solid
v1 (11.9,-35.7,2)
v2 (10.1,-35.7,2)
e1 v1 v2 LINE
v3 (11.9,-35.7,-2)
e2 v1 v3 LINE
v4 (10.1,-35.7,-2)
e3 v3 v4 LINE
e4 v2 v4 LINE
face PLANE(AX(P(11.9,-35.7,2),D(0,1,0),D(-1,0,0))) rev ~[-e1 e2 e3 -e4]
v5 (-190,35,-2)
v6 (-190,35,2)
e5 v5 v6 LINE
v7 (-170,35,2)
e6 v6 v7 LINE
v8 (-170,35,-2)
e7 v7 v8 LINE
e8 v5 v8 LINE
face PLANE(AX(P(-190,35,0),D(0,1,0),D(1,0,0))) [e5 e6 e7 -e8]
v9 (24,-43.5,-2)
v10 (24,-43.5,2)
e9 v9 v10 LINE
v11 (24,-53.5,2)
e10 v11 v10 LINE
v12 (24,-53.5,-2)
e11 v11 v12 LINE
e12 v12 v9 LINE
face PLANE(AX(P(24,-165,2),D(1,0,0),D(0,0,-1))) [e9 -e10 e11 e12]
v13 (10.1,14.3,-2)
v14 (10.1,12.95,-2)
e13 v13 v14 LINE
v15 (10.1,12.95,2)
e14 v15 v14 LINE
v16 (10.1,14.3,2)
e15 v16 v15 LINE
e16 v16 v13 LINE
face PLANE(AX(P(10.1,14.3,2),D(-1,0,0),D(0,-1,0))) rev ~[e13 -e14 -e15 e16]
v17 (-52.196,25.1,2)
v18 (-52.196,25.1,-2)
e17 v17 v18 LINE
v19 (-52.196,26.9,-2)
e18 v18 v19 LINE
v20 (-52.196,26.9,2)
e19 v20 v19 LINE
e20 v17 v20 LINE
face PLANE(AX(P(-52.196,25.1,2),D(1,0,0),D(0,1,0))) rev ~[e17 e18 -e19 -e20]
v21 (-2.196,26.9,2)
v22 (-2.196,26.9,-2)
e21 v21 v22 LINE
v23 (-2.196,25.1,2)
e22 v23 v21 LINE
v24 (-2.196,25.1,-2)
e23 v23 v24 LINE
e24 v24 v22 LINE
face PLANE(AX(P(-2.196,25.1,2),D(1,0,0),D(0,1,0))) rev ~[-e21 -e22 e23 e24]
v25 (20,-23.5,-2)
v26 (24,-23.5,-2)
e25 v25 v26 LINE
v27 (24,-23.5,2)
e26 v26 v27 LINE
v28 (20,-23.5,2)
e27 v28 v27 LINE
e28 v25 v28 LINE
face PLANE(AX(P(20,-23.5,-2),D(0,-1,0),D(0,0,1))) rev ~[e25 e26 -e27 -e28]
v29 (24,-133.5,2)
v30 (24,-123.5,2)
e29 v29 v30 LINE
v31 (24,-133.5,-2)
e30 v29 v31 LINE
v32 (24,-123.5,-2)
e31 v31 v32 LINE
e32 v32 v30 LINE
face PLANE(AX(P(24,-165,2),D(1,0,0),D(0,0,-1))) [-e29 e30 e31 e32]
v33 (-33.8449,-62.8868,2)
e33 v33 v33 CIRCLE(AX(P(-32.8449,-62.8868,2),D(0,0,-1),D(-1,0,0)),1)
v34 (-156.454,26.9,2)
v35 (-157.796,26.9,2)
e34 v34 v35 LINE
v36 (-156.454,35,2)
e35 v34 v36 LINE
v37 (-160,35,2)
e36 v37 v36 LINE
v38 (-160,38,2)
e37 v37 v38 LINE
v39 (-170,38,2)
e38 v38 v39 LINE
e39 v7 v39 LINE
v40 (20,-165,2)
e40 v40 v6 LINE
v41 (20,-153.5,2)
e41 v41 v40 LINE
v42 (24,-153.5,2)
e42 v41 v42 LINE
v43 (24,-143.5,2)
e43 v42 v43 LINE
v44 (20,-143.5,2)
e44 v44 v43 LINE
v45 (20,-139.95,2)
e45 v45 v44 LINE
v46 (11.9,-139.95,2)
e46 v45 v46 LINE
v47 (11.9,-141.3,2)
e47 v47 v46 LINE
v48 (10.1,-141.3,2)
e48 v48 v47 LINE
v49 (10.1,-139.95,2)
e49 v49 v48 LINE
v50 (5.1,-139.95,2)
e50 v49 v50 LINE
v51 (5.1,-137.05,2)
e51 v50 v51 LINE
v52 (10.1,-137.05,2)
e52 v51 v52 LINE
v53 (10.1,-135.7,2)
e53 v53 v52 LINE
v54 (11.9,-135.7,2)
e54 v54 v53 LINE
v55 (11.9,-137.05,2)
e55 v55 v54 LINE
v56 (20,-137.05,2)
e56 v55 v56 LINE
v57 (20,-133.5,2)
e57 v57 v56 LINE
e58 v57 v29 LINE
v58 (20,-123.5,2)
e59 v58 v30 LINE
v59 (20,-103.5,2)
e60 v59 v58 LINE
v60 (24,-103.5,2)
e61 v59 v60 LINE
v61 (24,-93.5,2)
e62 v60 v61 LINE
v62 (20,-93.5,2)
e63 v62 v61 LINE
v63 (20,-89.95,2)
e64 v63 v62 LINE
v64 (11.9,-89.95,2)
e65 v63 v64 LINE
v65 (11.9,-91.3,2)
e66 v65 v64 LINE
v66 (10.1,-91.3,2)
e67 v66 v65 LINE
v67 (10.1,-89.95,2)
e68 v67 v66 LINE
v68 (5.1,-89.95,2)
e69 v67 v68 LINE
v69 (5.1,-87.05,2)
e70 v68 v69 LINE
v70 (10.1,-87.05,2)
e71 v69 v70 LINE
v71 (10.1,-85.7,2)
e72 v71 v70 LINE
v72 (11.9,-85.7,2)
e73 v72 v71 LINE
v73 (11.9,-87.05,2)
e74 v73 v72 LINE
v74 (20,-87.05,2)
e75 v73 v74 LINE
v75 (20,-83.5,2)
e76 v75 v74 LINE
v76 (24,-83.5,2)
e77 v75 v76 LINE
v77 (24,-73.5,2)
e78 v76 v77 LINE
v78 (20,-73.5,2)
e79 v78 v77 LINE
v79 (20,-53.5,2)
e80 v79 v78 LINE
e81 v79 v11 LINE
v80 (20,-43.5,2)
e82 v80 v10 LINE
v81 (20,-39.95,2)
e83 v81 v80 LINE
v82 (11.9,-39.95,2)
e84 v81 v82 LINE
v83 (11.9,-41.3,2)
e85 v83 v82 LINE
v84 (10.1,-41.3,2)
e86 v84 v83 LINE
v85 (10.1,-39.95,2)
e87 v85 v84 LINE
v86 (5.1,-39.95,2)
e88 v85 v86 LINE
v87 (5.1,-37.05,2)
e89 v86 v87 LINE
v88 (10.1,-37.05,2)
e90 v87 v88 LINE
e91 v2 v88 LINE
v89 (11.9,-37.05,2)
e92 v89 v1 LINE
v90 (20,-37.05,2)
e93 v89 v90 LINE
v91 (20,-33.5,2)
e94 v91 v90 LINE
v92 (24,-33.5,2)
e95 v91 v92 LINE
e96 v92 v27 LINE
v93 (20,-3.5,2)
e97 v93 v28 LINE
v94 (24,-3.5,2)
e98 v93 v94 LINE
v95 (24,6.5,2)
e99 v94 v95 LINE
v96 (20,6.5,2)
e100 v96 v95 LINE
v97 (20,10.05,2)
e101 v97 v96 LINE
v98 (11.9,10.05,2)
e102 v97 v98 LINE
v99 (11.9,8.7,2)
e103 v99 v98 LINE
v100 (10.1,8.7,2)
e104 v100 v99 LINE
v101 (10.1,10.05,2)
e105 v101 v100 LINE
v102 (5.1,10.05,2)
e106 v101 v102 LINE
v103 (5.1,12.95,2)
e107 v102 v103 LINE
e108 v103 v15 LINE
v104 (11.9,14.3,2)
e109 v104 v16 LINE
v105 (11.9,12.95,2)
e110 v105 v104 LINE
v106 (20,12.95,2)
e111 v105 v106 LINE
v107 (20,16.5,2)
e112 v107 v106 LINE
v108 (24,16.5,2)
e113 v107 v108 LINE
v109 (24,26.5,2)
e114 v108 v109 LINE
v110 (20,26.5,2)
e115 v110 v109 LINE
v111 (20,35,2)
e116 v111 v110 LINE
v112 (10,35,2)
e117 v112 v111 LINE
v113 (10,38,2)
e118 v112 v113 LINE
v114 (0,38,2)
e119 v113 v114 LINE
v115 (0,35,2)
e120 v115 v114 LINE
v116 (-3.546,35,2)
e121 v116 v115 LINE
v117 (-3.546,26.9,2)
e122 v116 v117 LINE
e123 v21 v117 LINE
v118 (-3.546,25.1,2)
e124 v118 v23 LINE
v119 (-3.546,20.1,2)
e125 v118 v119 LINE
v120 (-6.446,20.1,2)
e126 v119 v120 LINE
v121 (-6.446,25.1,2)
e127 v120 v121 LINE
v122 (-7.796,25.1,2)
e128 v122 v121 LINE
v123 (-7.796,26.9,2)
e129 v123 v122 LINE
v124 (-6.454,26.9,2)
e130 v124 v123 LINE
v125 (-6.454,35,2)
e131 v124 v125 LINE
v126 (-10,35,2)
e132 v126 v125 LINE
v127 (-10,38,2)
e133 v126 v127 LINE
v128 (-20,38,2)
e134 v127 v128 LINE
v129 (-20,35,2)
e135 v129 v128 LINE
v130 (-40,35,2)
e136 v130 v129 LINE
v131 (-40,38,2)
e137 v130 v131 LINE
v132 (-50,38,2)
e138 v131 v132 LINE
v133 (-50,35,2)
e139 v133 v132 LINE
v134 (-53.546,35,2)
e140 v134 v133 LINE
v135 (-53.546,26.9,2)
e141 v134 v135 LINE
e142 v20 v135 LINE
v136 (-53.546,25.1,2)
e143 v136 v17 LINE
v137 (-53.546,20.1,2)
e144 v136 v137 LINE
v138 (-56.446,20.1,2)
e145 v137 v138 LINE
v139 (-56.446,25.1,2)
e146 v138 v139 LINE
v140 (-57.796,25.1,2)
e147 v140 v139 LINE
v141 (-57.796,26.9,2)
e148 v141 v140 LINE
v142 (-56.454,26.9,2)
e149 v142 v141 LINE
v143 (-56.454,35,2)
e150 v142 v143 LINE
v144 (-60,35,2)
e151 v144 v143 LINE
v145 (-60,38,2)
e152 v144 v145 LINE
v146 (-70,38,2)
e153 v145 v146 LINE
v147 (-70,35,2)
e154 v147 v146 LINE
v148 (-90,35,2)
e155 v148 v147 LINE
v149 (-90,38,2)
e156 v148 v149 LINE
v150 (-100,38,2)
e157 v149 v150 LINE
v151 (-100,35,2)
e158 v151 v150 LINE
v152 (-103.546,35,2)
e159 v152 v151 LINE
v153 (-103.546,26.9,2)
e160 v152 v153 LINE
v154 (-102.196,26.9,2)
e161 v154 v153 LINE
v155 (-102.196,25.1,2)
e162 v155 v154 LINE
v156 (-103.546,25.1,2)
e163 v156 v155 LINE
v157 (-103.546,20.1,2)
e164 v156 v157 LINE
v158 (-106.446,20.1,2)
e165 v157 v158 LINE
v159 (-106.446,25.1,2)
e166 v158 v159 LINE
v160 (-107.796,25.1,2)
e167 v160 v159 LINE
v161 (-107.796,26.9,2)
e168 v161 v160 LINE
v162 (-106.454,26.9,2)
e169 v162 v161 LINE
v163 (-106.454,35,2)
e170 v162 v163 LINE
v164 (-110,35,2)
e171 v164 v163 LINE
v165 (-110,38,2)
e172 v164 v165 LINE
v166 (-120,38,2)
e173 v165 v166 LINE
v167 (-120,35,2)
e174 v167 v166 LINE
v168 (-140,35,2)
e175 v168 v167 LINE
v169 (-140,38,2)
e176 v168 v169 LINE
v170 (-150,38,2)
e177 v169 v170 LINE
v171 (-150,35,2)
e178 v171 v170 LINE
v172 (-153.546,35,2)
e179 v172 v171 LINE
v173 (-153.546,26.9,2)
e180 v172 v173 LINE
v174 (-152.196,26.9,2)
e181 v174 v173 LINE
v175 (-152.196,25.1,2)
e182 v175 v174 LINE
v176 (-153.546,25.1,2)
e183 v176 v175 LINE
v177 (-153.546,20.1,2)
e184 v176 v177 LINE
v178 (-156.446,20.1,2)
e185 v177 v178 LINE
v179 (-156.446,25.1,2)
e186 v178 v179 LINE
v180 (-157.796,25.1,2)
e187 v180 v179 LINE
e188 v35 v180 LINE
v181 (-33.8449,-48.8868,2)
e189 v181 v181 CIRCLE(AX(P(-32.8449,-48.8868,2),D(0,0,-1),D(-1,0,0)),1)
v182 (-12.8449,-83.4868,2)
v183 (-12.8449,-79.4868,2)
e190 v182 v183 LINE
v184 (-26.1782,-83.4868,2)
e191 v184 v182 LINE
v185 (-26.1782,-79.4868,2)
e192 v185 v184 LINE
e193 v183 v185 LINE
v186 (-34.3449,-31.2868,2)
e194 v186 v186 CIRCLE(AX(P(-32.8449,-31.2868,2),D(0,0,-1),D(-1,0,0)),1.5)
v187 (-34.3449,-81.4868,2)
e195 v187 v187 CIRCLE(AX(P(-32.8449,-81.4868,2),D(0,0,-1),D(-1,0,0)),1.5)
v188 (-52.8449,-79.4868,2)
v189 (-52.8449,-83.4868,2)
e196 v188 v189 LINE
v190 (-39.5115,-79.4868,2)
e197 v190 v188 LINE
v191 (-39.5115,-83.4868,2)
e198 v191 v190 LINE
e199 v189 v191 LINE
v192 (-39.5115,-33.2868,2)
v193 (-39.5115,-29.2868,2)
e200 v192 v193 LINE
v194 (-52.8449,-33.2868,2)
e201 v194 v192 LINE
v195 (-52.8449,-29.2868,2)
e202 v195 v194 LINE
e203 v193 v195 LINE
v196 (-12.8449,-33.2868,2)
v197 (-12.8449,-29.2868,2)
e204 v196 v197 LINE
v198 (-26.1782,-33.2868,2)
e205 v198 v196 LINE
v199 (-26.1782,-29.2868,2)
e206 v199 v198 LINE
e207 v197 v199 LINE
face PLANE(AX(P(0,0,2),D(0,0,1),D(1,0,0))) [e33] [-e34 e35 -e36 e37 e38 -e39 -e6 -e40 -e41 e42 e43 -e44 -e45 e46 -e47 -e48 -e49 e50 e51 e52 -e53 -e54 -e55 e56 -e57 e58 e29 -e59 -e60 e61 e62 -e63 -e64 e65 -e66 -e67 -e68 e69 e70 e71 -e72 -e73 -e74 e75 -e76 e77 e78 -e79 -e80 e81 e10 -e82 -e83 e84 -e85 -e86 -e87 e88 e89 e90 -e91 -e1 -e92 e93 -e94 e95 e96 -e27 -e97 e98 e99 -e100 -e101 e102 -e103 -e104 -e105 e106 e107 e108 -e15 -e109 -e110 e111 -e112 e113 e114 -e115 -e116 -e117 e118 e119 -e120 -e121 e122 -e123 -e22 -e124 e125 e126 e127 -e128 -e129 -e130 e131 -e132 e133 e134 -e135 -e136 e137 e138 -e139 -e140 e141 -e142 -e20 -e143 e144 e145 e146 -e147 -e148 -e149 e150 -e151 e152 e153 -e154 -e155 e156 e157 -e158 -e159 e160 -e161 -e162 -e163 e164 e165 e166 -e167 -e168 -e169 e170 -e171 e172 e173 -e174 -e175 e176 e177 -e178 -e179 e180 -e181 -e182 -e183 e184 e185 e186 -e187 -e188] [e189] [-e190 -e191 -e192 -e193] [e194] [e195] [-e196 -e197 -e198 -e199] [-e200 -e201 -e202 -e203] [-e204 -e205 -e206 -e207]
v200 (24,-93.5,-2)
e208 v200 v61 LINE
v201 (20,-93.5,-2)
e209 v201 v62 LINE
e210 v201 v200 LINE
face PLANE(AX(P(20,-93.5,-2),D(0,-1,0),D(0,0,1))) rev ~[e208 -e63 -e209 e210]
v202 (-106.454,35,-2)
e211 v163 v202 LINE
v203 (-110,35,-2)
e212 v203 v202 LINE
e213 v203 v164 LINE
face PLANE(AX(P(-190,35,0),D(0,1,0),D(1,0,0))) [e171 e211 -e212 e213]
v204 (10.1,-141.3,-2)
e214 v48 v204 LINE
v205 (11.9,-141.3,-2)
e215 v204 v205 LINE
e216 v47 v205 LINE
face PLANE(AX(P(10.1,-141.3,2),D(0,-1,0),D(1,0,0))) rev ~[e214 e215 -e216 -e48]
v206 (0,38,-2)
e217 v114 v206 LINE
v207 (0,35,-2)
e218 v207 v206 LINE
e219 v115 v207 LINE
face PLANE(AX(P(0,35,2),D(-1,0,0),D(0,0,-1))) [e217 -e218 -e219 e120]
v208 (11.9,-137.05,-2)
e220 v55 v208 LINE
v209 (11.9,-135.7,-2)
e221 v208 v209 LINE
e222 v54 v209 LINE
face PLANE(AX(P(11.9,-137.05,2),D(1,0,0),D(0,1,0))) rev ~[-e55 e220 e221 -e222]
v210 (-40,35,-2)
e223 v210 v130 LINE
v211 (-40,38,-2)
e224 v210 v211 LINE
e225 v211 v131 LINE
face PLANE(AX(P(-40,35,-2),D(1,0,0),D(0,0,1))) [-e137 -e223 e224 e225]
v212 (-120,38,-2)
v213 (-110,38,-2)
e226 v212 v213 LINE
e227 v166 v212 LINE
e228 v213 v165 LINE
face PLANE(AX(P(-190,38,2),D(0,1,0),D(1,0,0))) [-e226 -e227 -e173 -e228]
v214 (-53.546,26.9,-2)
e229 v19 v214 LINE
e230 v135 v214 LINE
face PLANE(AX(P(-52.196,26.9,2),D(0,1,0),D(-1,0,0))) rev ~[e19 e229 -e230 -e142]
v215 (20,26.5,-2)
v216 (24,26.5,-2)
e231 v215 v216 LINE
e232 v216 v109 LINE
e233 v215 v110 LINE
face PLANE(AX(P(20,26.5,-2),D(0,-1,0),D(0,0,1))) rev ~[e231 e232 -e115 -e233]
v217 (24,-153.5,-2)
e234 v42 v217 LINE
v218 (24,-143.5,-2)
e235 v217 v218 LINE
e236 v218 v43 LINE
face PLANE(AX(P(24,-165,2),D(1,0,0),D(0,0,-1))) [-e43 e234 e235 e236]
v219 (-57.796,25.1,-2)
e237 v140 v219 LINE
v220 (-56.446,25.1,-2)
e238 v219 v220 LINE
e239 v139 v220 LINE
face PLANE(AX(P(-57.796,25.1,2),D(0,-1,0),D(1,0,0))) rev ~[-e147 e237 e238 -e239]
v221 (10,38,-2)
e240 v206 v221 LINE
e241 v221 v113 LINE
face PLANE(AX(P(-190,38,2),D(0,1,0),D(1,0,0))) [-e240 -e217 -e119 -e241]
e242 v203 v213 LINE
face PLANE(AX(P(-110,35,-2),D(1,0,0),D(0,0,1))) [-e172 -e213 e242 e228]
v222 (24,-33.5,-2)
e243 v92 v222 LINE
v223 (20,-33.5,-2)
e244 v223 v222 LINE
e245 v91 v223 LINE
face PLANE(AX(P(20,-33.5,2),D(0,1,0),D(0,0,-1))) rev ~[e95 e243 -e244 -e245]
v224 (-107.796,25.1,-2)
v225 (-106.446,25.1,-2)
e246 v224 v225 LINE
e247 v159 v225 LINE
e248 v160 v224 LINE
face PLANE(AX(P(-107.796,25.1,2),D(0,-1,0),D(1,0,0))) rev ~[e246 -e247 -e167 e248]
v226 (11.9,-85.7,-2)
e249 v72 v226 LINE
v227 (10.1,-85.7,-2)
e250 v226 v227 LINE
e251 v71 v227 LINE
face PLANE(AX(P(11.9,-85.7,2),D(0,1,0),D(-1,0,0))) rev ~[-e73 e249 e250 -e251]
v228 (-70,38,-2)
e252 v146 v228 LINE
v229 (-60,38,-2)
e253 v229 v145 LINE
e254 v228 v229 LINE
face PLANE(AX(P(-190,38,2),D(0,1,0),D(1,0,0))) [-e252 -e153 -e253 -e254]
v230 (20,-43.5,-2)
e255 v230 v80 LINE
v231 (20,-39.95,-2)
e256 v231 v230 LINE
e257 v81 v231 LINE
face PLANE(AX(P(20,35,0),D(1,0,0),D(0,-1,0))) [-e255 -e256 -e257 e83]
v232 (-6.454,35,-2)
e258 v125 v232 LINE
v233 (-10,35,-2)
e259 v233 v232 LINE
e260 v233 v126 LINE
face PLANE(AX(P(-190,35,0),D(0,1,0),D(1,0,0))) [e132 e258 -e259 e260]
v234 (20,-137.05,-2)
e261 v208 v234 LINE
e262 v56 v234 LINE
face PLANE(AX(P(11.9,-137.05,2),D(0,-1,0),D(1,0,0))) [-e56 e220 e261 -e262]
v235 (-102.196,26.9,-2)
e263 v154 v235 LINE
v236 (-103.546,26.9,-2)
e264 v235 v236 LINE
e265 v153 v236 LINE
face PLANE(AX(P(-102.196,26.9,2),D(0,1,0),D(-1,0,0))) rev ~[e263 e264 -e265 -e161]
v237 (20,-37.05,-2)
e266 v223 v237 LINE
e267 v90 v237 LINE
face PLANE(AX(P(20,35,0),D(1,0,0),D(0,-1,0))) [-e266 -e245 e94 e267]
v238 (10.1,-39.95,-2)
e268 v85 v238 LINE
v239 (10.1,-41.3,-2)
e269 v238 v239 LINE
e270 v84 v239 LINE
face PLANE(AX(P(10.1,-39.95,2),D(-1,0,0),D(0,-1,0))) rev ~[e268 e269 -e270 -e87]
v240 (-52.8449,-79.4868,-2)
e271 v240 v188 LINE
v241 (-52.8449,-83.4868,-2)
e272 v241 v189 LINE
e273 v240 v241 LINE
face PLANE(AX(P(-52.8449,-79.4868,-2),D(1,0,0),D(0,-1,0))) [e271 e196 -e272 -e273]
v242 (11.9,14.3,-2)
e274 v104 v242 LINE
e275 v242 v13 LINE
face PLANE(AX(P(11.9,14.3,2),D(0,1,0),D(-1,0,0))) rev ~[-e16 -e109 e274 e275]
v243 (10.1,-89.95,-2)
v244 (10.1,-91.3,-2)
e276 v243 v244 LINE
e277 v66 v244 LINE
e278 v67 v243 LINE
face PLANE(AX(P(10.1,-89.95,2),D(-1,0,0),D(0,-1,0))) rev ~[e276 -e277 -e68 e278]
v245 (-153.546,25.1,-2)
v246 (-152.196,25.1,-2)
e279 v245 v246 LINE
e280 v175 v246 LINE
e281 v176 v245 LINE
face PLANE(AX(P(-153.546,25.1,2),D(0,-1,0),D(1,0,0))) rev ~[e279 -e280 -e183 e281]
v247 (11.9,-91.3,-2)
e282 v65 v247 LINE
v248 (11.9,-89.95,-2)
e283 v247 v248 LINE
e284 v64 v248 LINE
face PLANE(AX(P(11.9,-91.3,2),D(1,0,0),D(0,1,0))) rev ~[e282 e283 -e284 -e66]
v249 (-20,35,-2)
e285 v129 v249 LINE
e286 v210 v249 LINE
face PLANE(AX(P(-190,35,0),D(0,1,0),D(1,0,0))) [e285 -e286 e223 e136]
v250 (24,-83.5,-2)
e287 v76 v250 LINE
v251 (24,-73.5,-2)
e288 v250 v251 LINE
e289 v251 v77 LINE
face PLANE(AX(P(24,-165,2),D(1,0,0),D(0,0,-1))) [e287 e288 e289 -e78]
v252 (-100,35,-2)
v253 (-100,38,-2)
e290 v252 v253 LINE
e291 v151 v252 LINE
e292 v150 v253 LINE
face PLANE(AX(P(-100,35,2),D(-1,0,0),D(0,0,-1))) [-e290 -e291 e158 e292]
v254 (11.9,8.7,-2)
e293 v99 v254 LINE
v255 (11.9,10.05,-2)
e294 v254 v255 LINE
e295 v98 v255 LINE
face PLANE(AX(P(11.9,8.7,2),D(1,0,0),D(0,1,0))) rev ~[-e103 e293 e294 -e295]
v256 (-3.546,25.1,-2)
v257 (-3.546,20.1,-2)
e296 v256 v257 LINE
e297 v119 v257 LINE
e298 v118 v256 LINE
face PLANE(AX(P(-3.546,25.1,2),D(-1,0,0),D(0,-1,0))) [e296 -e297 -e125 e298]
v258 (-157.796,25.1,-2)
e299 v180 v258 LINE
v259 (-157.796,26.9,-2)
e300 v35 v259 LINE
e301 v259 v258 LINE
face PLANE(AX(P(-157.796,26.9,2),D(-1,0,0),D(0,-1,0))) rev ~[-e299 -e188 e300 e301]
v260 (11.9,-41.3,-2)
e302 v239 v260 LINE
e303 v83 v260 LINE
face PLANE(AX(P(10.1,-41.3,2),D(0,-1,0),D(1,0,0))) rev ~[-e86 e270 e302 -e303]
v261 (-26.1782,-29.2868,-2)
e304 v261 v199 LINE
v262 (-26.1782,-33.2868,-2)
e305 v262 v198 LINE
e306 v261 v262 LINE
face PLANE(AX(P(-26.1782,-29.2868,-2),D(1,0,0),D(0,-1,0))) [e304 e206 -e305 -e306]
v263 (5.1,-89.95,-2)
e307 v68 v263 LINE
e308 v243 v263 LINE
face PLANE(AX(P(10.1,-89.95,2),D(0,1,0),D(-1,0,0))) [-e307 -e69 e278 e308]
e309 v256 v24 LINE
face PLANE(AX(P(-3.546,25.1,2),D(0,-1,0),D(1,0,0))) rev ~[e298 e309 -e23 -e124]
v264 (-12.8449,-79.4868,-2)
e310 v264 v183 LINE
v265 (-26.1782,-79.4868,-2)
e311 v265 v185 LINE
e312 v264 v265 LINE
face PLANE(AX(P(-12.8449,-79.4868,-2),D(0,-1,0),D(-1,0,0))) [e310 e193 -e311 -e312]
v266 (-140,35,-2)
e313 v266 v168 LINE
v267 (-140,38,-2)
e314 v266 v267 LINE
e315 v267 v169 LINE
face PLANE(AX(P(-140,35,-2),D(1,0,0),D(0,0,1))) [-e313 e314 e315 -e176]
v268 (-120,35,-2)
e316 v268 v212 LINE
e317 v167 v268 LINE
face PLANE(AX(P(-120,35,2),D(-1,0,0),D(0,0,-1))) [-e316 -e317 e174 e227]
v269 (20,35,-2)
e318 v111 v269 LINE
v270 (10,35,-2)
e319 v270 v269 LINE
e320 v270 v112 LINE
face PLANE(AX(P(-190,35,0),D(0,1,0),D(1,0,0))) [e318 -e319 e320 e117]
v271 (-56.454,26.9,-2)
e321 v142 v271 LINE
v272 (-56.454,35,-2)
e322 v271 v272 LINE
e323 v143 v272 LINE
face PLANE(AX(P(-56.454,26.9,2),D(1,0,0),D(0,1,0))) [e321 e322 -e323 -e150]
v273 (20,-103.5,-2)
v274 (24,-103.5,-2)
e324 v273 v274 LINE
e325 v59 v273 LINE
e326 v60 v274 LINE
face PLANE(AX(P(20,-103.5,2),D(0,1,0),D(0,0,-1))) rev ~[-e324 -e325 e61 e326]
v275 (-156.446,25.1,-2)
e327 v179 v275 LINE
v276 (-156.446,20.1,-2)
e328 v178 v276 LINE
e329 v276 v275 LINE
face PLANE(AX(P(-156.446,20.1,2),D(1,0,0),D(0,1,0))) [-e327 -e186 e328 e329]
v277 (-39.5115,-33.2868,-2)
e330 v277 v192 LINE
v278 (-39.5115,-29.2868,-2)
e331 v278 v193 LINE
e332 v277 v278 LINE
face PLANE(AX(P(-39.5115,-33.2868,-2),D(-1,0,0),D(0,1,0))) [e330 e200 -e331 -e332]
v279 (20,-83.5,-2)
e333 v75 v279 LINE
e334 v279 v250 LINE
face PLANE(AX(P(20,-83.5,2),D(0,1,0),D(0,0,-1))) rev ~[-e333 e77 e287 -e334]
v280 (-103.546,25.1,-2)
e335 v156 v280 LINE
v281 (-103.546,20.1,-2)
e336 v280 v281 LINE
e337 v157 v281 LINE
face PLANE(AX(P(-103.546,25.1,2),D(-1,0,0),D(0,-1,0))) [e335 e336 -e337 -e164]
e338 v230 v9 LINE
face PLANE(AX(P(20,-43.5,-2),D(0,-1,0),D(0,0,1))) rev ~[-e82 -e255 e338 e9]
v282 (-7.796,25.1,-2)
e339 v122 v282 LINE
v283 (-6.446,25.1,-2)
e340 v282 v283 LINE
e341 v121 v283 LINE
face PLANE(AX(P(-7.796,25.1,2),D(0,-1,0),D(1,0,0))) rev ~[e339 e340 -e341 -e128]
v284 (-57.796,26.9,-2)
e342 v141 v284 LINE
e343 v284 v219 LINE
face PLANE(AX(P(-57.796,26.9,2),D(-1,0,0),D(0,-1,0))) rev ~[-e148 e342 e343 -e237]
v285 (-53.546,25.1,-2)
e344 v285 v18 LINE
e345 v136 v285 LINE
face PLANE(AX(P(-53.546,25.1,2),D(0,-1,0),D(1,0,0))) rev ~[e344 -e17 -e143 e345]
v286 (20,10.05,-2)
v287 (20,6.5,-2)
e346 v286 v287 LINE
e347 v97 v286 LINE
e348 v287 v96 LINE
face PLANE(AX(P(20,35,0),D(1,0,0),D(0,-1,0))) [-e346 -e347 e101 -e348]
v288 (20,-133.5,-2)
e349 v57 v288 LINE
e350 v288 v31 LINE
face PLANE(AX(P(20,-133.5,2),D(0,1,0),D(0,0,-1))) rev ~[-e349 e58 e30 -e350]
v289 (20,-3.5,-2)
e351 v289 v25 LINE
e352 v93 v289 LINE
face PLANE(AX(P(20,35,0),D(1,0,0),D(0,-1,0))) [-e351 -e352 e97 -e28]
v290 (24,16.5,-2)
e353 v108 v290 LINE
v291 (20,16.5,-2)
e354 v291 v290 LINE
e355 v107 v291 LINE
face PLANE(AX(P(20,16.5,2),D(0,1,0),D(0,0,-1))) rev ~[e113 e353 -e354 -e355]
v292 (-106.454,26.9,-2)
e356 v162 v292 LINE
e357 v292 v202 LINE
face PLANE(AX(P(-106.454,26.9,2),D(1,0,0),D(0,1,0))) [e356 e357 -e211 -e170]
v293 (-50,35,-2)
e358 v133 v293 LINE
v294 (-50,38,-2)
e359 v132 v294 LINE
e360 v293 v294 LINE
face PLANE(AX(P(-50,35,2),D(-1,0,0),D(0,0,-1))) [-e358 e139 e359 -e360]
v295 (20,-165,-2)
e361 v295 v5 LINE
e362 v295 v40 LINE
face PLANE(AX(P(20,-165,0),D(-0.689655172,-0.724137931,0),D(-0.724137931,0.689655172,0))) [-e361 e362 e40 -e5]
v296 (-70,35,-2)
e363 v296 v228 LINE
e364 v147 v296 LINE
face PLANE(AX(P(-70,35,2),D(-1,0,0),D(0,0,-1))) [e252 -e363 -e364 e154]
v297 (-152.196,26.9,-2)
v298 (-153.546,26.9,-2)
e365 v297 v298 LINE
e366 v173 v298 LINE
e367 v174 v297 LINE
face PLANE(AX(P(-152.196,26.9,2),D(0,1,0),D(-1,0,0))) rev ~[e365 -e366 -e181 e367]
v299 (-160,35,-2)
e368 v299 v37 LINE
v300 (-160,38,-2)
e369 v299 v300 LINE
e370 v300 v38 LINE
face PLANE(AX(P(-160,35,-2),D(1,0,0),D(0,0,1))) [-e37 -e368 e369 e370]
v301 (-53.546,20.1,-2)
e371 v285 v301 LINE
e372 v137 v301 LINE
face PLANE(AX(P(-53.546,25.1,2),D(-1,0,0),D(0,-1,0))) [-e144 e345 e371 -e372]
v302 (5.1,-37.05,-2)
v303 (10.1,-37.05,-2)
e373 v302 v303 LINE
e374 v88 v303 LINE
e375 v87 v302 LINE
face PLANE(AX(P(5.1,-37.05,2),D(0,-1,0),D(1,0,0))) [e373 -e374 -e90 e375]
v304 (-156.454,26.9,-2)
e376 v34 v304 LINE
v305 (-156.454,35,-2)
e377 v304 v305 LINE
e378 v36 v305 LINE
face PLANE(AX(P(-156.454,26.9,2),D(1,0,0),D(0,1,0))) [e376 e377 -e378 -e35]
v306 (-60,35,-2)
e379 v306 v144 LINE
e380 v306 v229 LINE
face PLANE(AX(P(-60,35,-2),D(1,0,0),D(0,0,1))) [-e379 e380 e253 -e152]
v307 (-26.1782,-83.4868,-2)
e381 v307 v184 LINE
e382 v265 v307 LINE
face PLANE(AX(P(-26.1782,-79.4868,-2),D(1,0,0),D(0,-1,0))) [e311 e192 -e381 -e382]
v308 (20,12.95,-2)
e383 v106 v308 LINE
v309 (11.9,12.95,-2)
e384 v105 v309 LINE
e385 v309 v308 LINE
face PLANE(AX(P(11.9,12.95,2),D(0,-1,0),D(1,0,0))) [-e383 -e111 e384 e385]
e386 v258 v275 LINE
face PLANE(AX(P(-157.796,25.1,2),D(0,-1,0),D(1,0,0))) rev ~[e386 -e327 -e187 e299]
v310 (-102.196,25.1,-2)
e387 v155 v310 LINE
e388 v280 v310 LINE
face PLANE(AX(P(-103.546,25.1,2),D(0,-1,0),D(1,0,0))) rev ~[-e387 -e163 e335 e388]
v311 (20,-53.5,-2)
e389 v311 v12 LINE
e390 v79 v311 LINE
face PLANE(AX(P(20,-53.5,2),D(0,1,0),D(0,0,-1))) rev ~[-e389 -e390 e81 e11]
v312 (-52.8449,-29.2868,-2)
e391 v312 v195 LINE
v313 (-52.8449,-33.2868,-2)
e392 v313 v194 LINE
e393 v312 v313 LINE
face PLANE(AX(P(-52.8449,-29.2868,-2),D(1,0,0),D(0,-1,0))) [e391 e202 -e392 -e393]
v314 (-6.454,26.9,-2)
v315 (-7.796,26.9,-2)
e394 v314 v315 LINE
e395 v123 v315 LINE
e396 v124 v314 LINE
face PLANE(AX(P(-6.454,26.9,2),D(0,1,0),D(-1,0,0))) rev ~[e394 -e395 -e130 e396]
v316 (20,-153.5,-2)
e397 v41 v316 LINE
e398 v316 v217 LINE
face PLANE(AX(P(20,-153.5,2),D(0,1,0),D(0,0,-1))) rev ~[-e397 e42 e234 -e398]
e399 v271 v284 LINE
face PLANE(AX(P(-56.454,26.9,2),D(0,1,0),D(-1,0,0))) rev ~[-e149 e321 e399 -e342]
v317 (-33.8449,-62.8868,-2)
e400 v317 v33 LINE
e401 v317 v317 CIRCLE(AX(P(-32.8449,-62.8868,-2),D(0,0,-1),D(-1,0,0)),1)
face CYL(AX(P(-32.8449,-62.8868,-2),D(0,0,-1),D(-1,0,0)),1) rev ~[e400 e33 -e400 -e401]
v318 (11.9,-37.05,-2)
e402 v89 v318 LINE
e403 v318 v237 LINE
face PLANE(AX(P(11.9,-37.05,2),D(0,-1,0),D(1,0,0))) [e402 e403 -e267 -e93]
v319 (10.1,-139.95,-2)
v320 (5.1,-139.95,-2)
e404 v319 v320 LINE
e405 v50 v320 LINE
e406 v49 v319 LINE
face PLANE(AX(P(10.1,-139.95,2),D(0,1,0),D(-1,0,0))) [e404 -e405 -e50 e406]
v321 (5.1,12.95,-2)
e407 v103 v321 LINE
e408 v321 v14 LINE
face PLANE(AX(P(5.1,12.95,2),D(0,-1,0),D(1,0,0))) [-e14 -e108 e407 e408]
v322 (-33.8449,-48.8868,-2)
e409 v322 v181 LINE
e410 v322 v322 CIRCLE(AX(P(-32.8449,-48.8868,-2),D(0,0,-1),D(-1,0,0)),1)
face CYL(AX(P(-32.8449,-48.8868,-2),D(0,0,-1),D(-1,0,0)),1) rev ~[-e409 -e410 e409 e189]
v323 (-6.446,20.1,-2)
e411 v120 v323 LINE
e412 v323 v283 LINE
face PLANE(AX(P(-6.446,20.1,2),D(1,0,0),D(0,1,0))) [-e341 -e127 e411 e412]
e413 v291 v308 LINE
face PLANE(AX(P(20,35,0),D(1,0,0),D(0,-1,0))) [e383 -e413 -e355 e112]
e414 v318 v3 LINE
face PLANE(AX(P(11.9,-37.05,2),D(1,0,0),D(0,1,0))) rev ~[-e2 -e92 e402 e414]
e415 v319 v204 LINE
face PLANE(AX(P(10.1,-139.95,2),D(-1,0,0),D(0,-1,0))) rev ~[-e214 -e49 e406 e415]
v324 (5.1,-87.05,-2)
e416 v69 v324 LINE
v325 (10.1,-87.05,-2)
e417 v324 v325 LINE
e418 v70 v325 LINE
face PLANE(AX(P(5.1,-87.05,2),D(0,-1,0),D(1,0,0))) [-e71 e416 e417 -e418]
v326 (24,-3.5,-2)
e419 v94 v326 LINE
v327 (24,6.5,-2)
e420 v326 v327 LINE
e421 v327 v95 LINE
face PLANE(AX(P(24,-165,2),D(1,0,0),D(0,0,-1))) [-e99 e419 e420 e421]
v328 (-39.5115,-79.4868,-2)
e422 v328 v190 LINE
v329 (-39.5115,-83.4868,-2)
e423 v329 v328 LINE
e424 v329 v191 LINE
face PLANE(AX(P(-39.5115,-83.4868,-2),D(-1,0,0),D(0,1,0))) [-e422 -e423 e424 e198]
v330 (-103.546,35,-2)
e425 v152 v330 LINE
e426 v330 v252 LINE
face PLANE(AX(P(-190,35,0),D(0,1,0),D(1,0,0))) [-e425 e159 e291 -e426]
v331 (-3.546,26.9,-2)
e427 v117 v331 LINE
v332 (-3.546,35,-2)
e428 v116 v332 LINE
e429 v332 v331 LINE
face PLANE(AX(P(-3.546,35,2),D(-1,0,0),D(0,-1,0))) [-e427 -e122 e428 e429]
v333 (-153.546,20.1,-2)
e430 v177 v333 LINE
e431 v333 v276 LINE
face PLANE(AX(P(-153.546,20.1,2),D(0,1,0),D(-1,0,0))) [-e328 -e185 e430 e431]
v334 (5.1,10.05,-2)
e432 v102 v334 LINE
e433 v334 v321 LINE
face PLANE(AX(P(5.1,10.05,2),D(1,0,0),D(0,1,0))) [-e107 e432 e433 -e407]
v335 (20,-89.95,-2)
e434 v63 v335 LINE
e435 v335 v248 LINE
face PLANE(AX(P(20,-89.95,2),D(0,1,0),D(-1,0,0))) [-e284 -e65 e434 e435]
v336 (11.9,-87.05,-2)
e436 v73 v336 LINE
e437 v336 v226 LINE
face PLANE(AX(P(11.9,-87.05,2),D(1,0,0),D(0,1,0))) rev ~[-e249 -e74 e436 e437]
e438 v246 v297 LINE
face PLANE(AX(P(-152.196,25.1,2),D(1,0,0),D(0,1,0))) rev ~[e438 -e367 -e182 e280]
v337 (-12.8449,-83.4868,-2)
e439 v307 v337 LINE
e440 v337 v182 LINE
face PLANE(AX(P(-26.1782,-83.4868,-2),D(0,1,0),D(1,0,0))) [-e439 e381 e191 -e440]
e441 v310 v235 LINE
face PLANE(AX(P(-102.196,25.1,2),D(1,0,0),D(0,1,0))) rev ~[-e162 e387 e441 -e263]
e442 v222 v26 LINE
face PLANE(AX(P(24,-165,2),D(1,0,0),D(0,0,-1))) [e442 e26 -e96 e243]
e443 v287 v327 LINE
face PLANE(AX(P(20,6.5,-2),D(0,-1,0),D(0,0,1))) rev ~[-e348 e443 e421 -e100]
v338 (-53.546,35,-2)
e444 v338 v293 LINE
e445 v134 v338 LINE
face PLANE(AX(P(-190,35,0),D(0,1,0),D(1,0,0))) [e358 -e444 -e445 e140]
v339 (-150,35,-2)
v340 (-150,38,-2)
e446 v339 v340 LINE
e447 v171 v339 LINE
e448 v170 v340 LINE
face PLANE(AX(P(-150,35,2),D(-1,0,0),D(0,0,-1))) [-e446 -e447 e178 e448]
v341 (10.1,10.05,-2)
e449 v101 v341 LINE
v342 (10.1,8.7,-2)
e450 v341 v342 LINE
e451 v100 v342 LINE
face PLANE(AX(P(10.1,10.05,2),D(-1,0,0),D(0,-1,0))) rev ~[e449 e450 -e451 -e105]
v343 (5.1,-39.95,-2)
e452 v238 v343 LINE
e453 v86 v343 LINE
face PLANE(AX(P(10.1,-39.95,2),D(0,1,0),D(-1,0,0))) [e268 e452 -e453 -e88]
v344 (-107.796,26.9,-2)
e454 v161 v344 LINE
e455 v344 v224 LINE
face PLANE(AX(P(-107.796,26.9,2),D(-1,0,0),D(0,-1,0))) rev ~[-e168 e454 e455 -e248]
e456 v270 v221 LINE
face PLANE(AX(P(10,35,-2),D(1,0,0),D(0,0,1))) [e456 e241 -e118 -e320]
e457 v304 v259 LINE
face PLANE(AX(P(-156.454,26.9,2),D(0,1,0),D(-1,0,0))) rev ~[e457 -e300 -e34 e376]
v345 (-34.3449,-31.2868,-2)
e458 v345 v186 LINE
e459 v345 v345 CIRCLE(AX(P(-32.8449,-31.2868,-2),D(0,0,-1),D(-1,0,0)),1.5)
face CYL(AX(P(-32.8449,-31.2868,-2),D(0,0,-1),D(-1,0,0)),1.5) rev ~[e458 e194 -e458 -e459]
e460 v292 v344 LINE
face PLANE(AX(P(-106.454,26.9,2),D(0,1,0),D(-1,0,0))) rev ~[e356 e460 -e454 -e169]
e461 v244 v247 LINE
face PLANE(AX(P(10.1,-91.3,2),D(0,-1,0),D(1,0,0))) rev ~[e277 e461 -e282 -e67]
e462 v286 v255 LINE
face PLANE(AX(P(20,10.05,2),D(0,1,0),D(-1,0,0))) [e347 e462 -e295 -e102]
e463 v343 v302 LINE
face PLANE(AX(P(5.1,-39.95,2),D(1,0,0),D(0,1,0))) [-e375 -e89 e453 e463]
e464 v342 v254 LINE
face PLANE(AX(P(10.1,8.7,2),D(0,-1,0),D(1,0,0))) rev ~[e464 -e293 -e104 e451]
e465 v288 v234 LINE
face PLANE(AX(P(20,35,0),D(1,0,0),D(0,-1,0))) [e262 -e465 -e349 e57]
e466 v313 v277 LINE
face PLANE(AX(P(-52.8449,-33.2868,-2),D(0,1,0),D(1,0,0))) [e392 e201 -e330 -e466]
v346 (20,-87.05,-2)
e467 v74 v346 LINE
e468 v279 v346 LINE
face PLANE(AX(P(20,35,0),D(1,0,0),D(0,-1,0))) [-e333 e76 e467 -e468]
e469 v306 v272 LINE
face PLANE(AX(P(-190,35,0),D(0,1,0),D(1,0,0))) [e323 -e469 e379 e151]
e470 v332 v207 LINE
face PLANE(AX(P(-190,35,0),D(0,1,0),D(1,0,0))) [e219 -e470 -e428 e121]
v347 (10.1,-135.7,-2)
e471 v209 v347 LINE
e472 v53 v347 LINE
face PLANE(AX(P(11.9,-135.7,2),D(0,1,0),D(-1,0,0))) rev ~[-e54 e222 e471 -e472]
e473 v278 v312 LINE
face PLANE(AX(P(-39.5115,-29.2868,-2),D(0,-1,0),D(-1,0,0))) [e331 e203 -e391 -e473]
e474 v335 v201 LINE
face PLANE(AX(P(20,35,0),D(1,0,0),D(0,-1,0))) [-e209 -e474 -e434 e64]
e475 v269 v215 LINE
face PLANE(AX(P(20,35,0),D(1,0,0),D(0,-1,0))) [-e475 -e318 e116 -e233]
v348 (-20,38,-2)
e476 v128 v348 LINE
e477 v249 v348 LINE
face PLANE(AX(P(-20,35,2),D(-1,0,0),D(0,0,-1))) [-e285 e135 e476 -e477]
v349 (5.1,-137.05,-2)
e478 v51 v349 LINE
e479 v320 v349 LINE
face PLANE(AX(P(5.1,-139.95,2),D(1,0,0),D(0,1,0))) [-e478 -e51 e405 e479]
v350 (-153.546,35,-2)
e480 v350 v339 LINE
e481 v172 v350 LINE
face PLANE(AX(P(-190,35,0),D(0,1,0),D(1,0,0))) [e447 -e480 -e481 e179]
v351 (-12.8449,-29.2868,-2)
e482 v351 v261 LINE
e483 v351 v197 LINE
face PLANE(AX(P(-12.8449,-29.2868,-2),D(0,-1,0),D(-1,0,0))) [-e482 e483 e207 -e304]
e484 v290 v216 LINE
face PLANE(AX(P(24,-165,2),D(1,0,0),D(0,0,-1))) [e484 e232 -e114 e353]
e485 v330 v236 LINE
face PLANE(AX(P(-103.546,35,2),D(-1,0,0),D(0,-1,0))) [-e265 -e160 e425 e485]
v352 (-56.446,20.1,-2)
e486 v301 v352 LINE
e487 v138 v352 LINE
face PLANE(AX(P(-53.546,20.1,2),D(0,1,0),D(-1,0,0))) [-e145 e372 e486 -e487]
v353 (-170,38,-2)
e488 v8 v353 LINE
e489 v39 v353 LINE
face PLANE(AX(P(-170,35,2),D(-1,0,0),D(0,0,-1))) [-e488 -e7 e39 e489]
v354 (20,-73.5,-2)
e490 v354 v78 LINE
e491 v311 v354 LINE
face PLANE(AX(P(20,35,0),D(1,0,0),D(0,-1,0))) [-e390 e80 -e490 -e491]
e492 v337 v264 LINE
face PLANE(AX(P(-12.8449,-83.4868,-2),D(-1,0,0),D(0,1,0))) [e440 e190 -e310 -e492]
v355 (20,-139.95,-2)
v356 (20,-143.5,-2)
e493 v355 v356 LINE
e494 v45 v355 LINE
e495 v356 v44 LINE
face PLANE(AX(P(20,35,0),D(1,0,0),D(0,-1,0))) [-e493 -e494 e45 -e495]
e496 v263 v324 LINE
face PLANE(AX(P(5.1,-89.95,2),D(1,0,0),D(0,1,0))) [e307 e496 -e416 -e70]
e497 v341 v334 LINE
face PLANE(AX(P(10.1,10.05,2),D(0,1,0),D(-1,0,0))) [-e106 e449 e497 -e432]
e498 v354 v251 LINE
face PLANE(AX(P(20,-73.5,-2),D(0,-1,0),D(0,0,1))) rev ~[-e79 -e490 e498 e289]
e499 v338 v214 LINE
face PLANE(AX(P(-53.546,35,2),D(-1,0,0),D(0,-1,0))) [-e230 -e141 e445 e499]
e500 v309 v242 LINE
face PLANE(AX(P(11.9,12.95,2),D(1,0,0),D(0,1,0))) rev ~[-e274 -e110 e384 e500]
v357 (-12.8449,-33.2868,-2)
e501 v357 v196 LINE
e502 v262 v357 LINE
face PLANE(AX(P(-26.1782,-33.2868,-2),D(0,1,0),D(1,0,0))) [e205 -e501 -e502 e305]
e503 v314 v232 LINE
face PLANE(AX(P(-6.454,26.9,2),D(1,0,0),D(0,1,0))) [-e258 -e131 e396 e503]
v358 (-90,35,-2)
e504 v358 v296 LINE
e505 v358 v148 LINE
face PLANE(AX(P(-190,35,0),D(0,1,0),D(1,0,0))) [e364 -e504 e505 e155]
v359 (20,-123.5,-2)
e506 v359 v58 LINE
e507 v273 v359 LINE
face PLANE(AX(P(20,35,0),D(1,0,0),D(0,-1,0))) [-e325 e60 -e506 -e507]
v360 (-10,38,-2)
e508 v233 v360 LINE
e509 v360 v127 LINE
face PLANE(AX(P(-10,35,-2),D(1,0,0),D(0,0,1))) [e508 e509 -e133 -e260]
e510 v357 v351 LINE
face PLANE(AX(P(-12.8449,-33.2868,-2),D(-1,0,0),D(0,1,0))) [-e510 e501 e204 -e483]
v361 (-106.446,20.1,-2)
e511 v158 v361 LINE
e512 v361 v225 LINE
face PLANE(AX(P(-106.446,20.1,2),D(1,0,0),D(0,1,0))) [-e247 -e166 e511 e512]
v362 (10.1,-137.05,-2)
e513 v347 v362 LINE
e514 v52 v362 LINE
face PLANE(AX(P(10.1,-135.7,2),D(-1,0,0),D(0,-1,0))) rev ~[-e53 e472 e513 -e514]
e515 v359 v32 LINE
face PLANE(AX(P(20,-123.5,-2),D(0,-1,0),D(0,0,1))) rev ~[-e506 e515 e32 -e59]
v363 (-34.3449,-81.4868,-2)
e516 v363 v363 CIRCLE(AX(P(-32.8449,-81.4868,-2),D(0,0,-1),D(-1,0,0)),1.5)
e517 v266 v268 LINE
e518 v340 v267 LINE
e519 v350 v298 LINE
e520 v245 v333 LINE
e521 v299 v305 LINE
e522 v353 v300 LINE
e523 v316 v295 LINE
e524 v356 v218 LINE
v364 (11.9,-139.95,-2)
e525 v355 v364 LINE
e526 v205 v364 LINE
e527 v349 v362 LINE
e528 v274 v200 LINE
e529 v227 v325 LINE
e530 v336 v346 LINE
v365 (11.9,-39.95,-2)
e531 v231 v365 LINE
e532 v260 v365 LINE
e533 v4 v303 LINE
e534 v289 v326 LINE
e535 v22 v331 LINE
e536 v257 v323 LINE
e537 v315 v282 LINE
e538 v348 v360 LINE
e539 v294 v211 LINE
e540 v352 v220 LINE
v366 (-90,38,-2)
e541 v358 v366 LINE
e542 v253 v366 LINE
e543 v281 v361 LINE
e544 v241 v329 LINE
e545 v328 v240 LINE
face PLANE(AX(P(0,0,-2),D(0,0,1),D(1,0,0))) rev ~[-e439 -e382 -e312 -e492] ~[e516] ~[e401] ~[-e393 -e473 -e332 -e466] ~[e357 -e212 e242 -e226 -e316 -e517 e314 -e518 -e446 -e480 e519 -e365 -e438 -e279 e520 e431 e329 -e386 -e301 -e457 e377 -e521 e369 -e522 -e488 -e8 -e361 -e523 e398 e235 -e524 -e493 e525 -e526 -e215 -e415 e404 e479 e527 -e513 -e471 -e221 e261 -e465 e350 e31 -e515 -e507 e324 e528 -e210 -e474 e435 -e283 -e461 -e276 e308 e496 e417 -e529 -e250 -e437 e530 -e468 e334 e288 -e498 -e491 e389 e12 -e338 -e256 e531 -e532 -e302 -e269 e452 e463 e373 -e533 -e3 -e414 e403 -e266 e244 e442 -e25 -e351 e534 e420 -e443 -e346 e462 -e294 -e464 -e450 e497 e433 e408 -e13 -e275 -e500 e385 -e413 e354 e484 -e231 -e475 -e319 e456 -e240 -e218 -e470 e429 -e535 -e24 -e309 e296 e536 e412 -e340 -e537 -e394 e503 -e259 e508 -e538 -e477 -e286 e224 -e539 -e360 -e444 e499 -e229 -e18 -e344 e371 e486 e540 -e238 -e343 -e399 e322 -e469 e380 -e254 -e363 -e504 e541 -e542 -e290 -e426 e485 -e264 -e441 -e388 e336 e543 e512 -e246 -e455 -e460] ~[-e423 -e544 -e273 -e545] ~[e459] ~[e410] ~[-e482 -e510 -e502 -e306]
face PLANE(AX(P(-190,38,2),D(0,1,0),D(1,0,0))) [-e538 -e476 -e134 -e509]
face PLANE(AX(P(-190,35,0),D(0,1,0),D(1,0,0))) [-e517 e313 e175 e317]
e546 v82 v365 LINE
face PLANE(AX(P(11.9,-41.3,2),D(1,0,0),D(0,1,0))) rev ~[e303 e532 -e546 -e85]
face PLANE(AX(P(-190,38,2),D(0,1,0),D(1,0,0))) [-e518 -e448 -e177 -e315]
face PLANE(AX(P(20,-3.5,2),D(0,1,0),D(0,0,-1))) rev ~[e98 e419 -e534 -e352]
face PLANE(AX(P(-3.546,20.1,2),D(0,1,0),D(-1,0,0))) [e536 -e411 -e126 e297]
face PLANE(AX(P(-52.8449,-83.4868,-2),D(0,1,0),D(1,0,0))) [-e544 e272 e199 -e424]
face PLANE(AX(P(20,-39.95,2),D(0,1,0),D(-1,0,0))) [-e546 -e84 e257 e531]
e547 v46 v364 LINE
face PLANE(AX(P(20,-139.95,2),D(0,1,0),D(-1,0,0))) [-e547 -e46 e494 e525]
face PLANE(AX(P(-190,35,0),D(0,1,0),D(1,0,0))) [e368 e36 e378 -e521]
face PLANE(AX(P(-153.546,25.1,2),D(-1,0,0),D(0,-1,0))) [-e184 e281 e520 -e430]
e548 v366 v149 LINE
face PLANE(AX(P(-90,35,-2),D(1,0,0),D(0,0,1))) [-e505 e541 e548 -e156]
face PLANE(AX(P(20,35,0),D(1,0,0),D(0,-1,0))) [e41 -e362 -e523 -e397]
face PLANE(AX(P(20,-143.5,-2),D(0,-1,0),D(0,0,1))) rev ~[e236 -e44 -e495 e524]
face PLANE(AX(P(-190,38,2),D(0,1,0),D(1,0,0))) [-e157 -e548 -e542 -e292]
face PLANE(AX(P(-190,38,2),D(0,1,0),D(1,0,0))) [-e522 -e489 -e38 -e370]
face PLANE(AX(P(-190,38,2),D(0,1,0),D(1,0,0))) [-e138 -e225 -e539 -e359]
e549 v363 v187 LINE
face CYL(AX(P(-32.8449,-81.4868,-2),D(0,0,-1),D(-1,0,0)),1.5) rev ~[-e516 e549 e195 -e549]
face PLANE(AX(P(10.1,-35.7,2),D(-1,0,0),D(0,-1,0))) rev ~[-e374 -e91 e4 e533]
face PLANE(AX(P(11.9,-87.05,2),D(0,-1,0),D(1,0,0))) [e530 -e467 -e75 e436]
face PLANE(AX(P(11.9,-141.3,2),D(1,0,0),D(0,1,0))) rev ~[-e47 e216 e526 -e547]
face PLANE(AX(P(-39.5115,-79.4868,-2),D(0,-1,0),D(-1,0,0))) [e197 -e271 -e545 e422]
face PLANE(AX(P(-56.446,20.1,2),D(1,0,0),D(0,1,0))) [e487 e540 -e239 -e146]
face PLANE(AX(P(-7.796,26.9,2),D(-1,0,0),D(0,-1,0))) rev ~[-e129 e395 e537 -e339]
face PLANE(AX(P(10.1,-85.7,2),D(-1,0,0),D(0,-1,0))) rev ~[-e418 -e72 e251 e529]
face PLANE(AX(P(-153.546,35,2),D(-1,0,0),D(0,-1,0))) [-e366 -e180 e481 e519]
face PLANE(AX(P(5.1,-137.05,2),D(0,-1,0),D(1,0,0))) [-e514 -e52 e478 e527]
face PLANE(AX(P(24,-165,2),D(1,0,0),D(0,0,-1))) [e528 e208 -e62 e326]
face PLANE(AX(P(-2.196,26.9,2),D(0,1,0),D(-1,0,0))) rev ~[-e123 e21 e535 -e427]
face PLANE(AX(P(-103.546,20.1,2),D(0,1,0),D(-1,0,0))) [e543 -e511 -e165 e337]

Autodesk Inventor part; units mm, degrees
ref_plane "YZ Plane" through (0, 0, 0) normal (1, 0, 0) x (0, 1, 0)
ref_plane "XY Plane" through (0, 0, 0) normal (0, 0, 1) x (1, 0, 0)
sketch "Эскиз1" plane through (0, 0, 0) normal (0, 0, 1) x (1, 0, 0)
  line L0 (-190, 35) -> (20, 35)
  line L1 (20, 35) -> (20, -165)
  line L2 (20, -165) -> (-190, 35)
  dimension "d4" = 200
  dimension "d5" = 210
extrude "Выдавливание1" add sketch "Эскиз1" along normal mid plane 4
sketch "Эскиз2" plane through (-190, 35, 2) normal (0, 1, 0) x (1, 0, 0)
  line L0 (210, 0) -> (0, 0) projected
  line L1 (0, 4) -> (210, 4) projected
  line L2 (200, 0) -> (190, 0)
  line L3 (190, 0) -> (190, 4)
  line L4 (190, 4) -> (200, 4)
  line L5 (200, 4) -> (200, 0)
  line L6 (210, 4) -> (210, 0) projected
  line L7 (180, 0) -> (170, 0)
  line L8 (170, 0) -> (170, 4)
  line L9 (170, 4) -> (180, 4)
  line L10 (180, 4) -> (180, 0)
  line L11 (-300, 0) -> (-310, 0)
  line L12 (-310, 0) -> (-310, 4)
  line L13 (-310, 4) -> (-300, 4)
  line L14 (-300, 4) -> (-300, 0)
  line L15 (-320, 0) -> (-330, 0)
  line L16 (-330, 0) -> (-330, 4)
  line L17 (-330, 4) -> (-320, 4)
  line L18 (-320, 4) -> (-320, 0)
  line L19 (120, 0) -> (120, 4)
  line L20 (130, 0) -> (120, 0)
  line L21 (120, 4) -> (130, 4)
  line L22 (130, 4) -> (130, 0)
  line L23 (140, 0) -> (140, 4)
  line L24 (140, 4) -> (150, 4)
  line L25 (150, 4) -> (150, 0)
  line L26 (150, 0) -> (140, 0)
  line L27 (70, 0) -> (70, 4)
  line L28 (80, 0) -> (70, 0)
  line L29 (70, 4) -> (80, 4)
  line L30 (80, 4) -> (80, 0)
  line L31 (90, 0) -> (90, 4)
  line L32 (90, 4) -> (100, 4)
  line L33 (100, 4) -> (100, 0)
  line L34 (100, 0) -> (90, 0)
  line L35 (20, 0) -> (20, 4)
  line L36 (30, 0) -> (20, 0)
  line L37 (20, 4) -> (30, 4)
  line L38 (30, 4) -> (30, 0)
  line L39 (40, 0) -> (40, 4)
  line L40 (40, 4) -> (50, 4)
  line L41 (50, 4) -> (50, 0)
  line L42 (50, 0) -> (40, 0)
  point P0 (190, 2)
  point P1 (190, 2)
  point P2 (180, 2)
  point P3 (-310, 2)
  point P4 (-320, 2)
  point P5 (130, 2)
  point P6 (140, 2)
  point P7 (80, 2)
  point P8 (90, 2)
  point P9 (30, 2)
  point P10 (40, 2)
  point P11 (200, 4)
  point P12 (190, 0)
  point P13 (180, 4)
  point P14 (170, 0)
  point P15 (150, 0)
  point P16 (150, 4)
  point P17 (140, 4)
  point P18 (140, 0)
  point P19 (130, 0)
  point P20 (130, 4)
  point P21 (120, 0)
  point P22 (100, 0)
  point P23 (100, 4)
  point P24 (90, 4)
  point P25 (90, 0)
  point P26 (80, 0)
  point P27 (80, 4)
  point P28 (70, 0)
  point P29 (50, 0)
  point P30 (50, 4)
  point P31 (40, 4)
  point P32 (40, 0)
  point P33 (30, 0)
  point P34 (30, 4)
  point P35 (20, 0)
  dimension "d6" = 10
  dimension "d7" = 10
  dimension "d8" = 10
  dimension "d9" = 10
  dimension "d12" = 500
  dimension "d19" = 50
extrude "Выдавливание2" add sketch "Эскиз2" along normal blind 3 contours L0 L3 L1 L5 | L0 L8 L1 L10 | L0 L23 L1 L25 | L0 L19 L1 L22 | L0 L31 L1 L33 | L0 L27 L1 L30 | L0 L39 L1 L41 | L0 L35 L1 L38
sketch "Эскиз3" plane through (20, -165, 2) normal (1, 0, 0) x (0, 0, -1)
  line L0 (0, 0) -> (0, 200) projected
  line L1 (4, 0) -> (4, 200) projected
  line L2 (0, 11.5) -> (4, 11.5)
  line L3 (4, 11.5) -> (4, 21.5)
  line L4 (4, 21.5) -> (0, 21.5)
  line L5 (0, 21.5) -> (0, 11.5)
  line L6 (0, 0) -> (4, 0) projected
  line L7 (0, 31.5) -> (4, 31.5)
  line L8 (4, 31.5) -> (4, 41.5)
  line L9 (4, 41.5) -> (0, 41.5)
  line L10 (0, 41.5) -> (0, 31.5)
  line L11 (0, 61.5) -> (4, 61.5)
  line L12 (4, 61.5) -> (4, 71.5)
  line L13 (4, 71.5) -> (0, 71.5)
  line L14 (0, 71.5) -> (0, 61.5)
  line L15 (0, 81.5) -> (4, 81.5)
  line L16 (4, 81.5) -> (4, 91.5)
  line L17 (4, 91.5) -> (0, 91.5)
  line L18 (0, 91.5) -> (0, 81.5)
  line L19 (0, 111.5) -> (4, 111.5)
  line L20 (4, 111.5) -> (4, 121.5)
  line L21 (4, 121.5) -> (0, 121.5)
  line L22 (0, 121.5) -> (0, 111.5)
  line L23 (0, 131.5) -> (4, 131.5)
  line L24 (4, 131.5) -> (4, 141.5)
  line L25 (4, 141.5) -> (0, 141.5)
  line L26 (0, 141.5) -> (0, 131.5)
  line L27 (0, 161.5) -> (4, 161.5)
  line L28 (4, 161.5) -> (4, 171.5)
  line L29 (4, 171.5) -> (0, 171.5)
  line L30 (0, 171.5) -> (0, 161.5)
  line L31 (0, 181.5) -> (4, 181.5)
  line L32 (4, 181.5) -> (4, 191.5)
  line L33 (4, 191.5) -> (0, 191.5)
  line L34 (0, 191.5) -> (0, 181.5)
  point P0 (2, 165)
  point P1 (0, 41.5)
  point P2 (4, 31.5)
  point P3 (0, 21.5)
  point P4 (4, 11.5)
  point P5 (0, 191.5)
  point P6 (0, 171.5)
  point P7 (0, 141.5)
  point P8 (4, 121.5)
  point P9 (0, 121.5)
  point P10 (0, 111.5)
  point P11 (4, 111.5)
  point P12 (4, 91.5)
  point P13 (0, 91.5)
  point P14 (0, 71.5)
  dimension "d26" = 11.5
  dimension "d27" = 10
  dimension "d28" = 10
  dimension "d29" = 10
  dimension "d78" = 50
extrude "Выдавливание3" add sketch "Эскиз3" along normal blind 4 contours L0 L4 L1 L2 | L0 L9 L1 L7 | L0 L13 L1 L11 | L0 L17 L1 L15 | L0 L21 L1 L19 | L0 L25 L1 L23 | L0 L29 L1 L27 | L0 L33 L1 L31
sketch "Эскиз4" plane through (0, 0, 2) normal (0, 0, 1) x (1, 0, 0)
  line L0 (5.1, -139.95) -> (5.1, -137.05)
  line L1 (20, -137.05) -> (20, -139.95)
  line L2 (20, -143.5) -> (20, -133.5) projected
  line L3 (5.1, -138.5) -> (20, -138.5) construction
  line L4 (20, -133.5) -> (20, -143.5) projected
  line L5 (10.1, -141.3) -> (11.9, -141.3)
  line L6 (11.9, -135.7) -> (10.1, -135.7)
  line L7 (20, -139.95) -> (11.9, -139.95)
  line L8 (10.1, -139.95) -> (5.1, -139.95)
  line L9 (10.1, -135.7) -> (10.1, -137.05)
  line L10 (10.1, -139.95) -> (10.1, -141.3)
  line L11 (11.9, -141.3) -> (11.9, -139.95)
  line L12 (11.9, -137.05) -> (11.9, -135.7)
  line L13 (5.1, -137.05) -> (10.1, -137.05)
  line L14 (11.9, -137.05) -> (20, -137.05)
  line L15 (-6.454, 35) -> (-3.546, 35)
  line L16 (-3.546, 20.1) -> (-6.446, 20.1)
  line L17 (-4.996, 20.1) -> (-5, 35) construction
  line L18 (0, 35) -> (-10, 35) projected
  line L19 (-2.196, 25.1) -> (-2.196, 26.9)
  line L20 (-7.796, 26.9) -> (-7.796, 25.1)
  line L21 (-6.446, 20.1) -> (-6.446, 25.1)
  line L22 (-6.454, 26.9) -> (-6.454, 35)
  line L23 (-7.796, 25.1) -> (-6.446, 25.1)
  line L24 (-3.546, 25.1) -> (-2.196, 25.1)
  line L25 (-2.196, 26.9) -> (-3.546, 26.9)
  line L26 (-6.454, 26.9) -> (-7.796, 26.9)
  line L27 (-3.546, 35) -> (-3.546, 26.9)
  line L28 (-3.546, 25.1) -> (-3.546, 20.1)
  line L29 (-53.546, 25.1) -> (-52.196, 25.1)
  line L30 (-57.796, 26.9) -> (-57.796, 25.1)
  line L31 (-56.454, 26.9) -> (-57.796, 26.9)
  line L32 (-52.196, 25.1) -> (-52.196, 26.9)
  line L33 (-52.196, 26.9) -> (-53.546, 26.9)
  line L34 (-54.996, 20.1) -> (-55, 35) construction
  line L35 (-53.546, 35) -> (-53.546, 26.9)
  line L36 (-56.454, 26.9) -> (-56.454, 35)
  line L37 (-56.454, 35) -> (-53.546, 35)
  line L38 (-53.546, 20.1) -> (-56.446, 20.1)
  line L39 (-53.546, 25.1) -> (-53.546, 20.1)
  line L40 (-56.446, 20.1) -> (-56.446, 25.1)
  line L41 (-57.796, 25.1) -> (-56.446, 25.1)
  line L42 (-103.546, 25.1) -> (-102.196, 25.1)
  line L43 (-107.796, 26.9) -> (-107.796, 25.1)
  line L44 (-106.454, 26.9) -> (-107.796, 26.9)
  line L45 (-102.196, 25.1) -> (-102.196, 26.9)
  line L46 (-102.196, 26.9) -> (-103.546, 26.9)
  line L47 (-104.996, 20.1) -> (-105, 35) construction
  line L48 (-103.546, 35) -> (-103.546, 26.9)
  line L49 (-106.454, 26.9) -> (-106.454, 35)
  line L50 (-106.454, 35) -> (-103.546, 35)
  line L51 (-103.546, 20.1) -> (-106.446, 20.1)
  line L52 (-103.546, 25.1) -> (-103.546, 20.1)
  line L53 (-106.446, 20.1) -> (-106.446, 25.1)
  line L54 (-107.796, 25.1) -> (-106.446, 25.1)
  line L55 (-153.546, 25.1) -> (-152.196, 25.1)
  line L56 (-157.796, 26.9) -> (-157.796, 25.1)
  line L57 (-156.454, 26.9) -> (-157.796, 26.9)
  line L58 (-152.196, 25.1) -> (-152.196, 26.9)
  line L59 (-152.196, 26.9) -> (-153.546, 26.9)
  line L60 (-154.996, 20.1) -> (-155, 35) construction
  line L61 (-153.546, 35) -> (-153.546, 26.9)
  line L62 (-156.454, 26.9) -> (-156.454, 35)
  line L63 (-156.454, 35) -> (-153.546, 35)
  line L64 (-153.546, 20.1) -> (-156.446, 20.1)
  line L65 (-153.546, 25.1) -> (-153.546, 20.1)
  line L66 (-156.446, 20.1) -> (-156.446, 25.1)
  line L67 (-157.796, 25.1) -> (-156.446, 25.1)
  line L68 (10.1, -91.3) -> (11.9, -91.3)
  line L69 (11.9, -91.3) -> (11.9, -89.95)
  line L70 (10.1, -89.95) -> (10.1, -91.3)
  line L71 (5.1, -88.5) -> (20, -88.5) construction
  line L72 (11.9, -87.05) -> (20, -87.05)
  line L73 (20, -87.05) -> (20, -89.95)
  line L74 (20, -89.95) -> (11.9, -89.95)
  line L75 (10.1, -85.7) -> (10.1, -87.05)
  line L76 (11.9, -85.7) -> (10.1, -85.7)
  line L77 (5.1, -87.05) -> (10.1, -87.05)
  line L78 (5.1, -89.95) -> (5.1, -87.05)
  line L79 (10.1, -89.95) -> (5.1, -89.95)
  line L80 (11.9, -87.05) -> (11.9, -85.7)
  line L81 (10.1, -41.3) -> (11.9, -41.3)
  line L82 (11.9, -41.3) -> (11.9, -39.95)
  line L83 (10.1, -39.95) -> (10.1, -41.3)
  line L84 (5.1, -38.5) -> (20, -38.5) construction
  line L85 (11.9, -37.05) -> (20, -37.05)
  line L86 (20, -37.05) -> (20, -39.95)
  line L87 (20, -39.95) -> (11.9, -39.95)
  line L88 (10.1, -35.7) -> (10.1, -37.05)
  line L89 (11.9, -35.7) -> (10.1, -35.7)
  line L90 (5.1, -37.05) -> (10.1, -37.05)
  line L91 (5.1, -39.95) -> (5.1, -37.05)
  line L92 (10.1, -39.95) -> (5.1, -39.95)
  line L93 (11.9, -37.05) -> (11.9, -35.7)
  line L94 (10.1, 8.7) -> (11.9, 8.7)
  line L95 (11.9, 8.7) -> (11.9, 10.05)
  line L96 (10.1, 10.05) -> (10.1, 8.7)
  line L97 (5.1, 11.5) -> (20, 11.5) construction
  line L98 (11.9, 12.95) -> (20, 12.95)
  line L99 (20, 12.95) -> (20, 10.05)
  line L100 (20, 10.05) -> (11.9, 10.05)
  line L101 (10.1, 14.3) -> (10.1, 12.95)
  line L102 (11.9, 14.3) -> (10.1, 14.3)
  line L103 (5.1, 12.95) -> (10.1, 12.95)
  line L104 (5.1, 10.05) -> (5.1, 12.95)
  line L105 (10.1, 10.05) -> (5.1, 10.05)
  line L106 (11.9, 12.95) -> (11.9, 14.3)
  point P0 (0, 0)
  point P1 (11.9, -136.375)
  point P2 (11.9, -140.625)
  point P3 (-7.125, 26.9)
  point P4 (-57.125, 26.9)
  point P5 (-107.125, 26.9)
  point P6 (-157.125, 26.9)
  point P7 (11.9, -90.625)
  point P8 (20, -83.5)
  point P9 (20, -93.5)
  point P10 (11.9, -86.375)
  point P11 (11.9, -40.625)
  point P12 (20, -33.5)
  point P13 (20, -43.5)
  point P14 (11.9, -36.375)
  point P15 (11.9, 9.375)
  point P16 (20, 16.5)
  point P17 (20, 6.5)
  point P18 (11.9, 13.625)
  dimension "d39" = 2.9
  dimension "d40" = 5.6
  dimension "d41" = 1.8
  dimension "d43" = 5
  dimension "d44" = 8.1
  dimension "d45" = 8.1
  dimension "d46" = 1.35
  dimension "d54" = 2.9
  dimension "d55" = 1.8
  dimension "d56" = 5.6
  dimension "d57" = 1.35
  dimension "d58" = 5
  dimension "d59" = 8.1
  dimension "d62" = 50
  dimension "d71" = 50
extrude "Выдавливание4" cut sketch "Эскиз4" against normal up to surface (4 mm away)
sketch "Эскиз5" plane through (0, 0, -2) normal (0, 0, -1) x (-1, 0, 0)
  line L0 (39.5115, -83.4868) -> (39.5115, -79.4868)
  line L1 (39.5115, -79.4868) -> (52.8449, -79.4868)
  line L2 (52.8449, -79.4868) -> (52.8449, -83.4868)
  line L3 (52.8449, -83.4868) -> (39.5115, -83.4868)
  line L4 (12.8449, -79.4868) -> (26.1782, -79.4868)
  line L5 (26.1782, -79.4868) -> (26.1782, -83.4868)
  line L6 (26.1782, -83.4868) -> (12.8449, -83.4868)
  line L7 (12.8449, -83.4868) -> (12.8449, -79.4868)
  line L8 (26.1782, -29.2868) -> (26.1782, -33.2868)
  line L9 (26.1782, -33.2868) -> (12.8449, -33.2868)
  line L10 (12.8449, -33.2868) -> (12.8449, -29.2868)
  line L11 (12.8449, -29.2868) -> (26.1782, -29.2868)
  line L12 (52.8449, -33.2868) -> (39.5115, -33.2868)
  line L13 (39.5115, -33.2868) -> (39.5115, -29.2868)
  line L14 (39.5115, -29.2868) -> (52.8449, -29.2868)
  line L15 (52.8449, -29.2868) -> (52.8449, -33.2868)
  line L16 (56.3449, -88.8868) -> (56.3449, -23.8868)
  line L17 (56.3449, -23.8868) -> (9.3449, -23.8868)
  line L18 (9.3449, -23.8868) -> (9.3449, -88.8868)
  line L19 (9.3449, -88.8868) -> (56.3449, -88.8868)
  circle A0 centre (32.8449, -62.8868) radius 1
  circle A1 centre (32.8449, -48.8868) radius 1
  circle A2 centre (32.8449, -81.4868) radius 1.5
  circle A3 centre (32.8449, -31.2868) radius 1.5
  point P0 (0, 0)
extrude "Выдавливание5" cut sketch "Эскиз5" against normal up to surface (4 mm away) contours L0 L1 L2 L3 | L4 L5 L6 L7 | L8 L9 L10 L11 | L12 L13 L14 L15 | A0 | A1 | A2 | A3
properties part number "Ребро жёсткости для крепления хвоста"
